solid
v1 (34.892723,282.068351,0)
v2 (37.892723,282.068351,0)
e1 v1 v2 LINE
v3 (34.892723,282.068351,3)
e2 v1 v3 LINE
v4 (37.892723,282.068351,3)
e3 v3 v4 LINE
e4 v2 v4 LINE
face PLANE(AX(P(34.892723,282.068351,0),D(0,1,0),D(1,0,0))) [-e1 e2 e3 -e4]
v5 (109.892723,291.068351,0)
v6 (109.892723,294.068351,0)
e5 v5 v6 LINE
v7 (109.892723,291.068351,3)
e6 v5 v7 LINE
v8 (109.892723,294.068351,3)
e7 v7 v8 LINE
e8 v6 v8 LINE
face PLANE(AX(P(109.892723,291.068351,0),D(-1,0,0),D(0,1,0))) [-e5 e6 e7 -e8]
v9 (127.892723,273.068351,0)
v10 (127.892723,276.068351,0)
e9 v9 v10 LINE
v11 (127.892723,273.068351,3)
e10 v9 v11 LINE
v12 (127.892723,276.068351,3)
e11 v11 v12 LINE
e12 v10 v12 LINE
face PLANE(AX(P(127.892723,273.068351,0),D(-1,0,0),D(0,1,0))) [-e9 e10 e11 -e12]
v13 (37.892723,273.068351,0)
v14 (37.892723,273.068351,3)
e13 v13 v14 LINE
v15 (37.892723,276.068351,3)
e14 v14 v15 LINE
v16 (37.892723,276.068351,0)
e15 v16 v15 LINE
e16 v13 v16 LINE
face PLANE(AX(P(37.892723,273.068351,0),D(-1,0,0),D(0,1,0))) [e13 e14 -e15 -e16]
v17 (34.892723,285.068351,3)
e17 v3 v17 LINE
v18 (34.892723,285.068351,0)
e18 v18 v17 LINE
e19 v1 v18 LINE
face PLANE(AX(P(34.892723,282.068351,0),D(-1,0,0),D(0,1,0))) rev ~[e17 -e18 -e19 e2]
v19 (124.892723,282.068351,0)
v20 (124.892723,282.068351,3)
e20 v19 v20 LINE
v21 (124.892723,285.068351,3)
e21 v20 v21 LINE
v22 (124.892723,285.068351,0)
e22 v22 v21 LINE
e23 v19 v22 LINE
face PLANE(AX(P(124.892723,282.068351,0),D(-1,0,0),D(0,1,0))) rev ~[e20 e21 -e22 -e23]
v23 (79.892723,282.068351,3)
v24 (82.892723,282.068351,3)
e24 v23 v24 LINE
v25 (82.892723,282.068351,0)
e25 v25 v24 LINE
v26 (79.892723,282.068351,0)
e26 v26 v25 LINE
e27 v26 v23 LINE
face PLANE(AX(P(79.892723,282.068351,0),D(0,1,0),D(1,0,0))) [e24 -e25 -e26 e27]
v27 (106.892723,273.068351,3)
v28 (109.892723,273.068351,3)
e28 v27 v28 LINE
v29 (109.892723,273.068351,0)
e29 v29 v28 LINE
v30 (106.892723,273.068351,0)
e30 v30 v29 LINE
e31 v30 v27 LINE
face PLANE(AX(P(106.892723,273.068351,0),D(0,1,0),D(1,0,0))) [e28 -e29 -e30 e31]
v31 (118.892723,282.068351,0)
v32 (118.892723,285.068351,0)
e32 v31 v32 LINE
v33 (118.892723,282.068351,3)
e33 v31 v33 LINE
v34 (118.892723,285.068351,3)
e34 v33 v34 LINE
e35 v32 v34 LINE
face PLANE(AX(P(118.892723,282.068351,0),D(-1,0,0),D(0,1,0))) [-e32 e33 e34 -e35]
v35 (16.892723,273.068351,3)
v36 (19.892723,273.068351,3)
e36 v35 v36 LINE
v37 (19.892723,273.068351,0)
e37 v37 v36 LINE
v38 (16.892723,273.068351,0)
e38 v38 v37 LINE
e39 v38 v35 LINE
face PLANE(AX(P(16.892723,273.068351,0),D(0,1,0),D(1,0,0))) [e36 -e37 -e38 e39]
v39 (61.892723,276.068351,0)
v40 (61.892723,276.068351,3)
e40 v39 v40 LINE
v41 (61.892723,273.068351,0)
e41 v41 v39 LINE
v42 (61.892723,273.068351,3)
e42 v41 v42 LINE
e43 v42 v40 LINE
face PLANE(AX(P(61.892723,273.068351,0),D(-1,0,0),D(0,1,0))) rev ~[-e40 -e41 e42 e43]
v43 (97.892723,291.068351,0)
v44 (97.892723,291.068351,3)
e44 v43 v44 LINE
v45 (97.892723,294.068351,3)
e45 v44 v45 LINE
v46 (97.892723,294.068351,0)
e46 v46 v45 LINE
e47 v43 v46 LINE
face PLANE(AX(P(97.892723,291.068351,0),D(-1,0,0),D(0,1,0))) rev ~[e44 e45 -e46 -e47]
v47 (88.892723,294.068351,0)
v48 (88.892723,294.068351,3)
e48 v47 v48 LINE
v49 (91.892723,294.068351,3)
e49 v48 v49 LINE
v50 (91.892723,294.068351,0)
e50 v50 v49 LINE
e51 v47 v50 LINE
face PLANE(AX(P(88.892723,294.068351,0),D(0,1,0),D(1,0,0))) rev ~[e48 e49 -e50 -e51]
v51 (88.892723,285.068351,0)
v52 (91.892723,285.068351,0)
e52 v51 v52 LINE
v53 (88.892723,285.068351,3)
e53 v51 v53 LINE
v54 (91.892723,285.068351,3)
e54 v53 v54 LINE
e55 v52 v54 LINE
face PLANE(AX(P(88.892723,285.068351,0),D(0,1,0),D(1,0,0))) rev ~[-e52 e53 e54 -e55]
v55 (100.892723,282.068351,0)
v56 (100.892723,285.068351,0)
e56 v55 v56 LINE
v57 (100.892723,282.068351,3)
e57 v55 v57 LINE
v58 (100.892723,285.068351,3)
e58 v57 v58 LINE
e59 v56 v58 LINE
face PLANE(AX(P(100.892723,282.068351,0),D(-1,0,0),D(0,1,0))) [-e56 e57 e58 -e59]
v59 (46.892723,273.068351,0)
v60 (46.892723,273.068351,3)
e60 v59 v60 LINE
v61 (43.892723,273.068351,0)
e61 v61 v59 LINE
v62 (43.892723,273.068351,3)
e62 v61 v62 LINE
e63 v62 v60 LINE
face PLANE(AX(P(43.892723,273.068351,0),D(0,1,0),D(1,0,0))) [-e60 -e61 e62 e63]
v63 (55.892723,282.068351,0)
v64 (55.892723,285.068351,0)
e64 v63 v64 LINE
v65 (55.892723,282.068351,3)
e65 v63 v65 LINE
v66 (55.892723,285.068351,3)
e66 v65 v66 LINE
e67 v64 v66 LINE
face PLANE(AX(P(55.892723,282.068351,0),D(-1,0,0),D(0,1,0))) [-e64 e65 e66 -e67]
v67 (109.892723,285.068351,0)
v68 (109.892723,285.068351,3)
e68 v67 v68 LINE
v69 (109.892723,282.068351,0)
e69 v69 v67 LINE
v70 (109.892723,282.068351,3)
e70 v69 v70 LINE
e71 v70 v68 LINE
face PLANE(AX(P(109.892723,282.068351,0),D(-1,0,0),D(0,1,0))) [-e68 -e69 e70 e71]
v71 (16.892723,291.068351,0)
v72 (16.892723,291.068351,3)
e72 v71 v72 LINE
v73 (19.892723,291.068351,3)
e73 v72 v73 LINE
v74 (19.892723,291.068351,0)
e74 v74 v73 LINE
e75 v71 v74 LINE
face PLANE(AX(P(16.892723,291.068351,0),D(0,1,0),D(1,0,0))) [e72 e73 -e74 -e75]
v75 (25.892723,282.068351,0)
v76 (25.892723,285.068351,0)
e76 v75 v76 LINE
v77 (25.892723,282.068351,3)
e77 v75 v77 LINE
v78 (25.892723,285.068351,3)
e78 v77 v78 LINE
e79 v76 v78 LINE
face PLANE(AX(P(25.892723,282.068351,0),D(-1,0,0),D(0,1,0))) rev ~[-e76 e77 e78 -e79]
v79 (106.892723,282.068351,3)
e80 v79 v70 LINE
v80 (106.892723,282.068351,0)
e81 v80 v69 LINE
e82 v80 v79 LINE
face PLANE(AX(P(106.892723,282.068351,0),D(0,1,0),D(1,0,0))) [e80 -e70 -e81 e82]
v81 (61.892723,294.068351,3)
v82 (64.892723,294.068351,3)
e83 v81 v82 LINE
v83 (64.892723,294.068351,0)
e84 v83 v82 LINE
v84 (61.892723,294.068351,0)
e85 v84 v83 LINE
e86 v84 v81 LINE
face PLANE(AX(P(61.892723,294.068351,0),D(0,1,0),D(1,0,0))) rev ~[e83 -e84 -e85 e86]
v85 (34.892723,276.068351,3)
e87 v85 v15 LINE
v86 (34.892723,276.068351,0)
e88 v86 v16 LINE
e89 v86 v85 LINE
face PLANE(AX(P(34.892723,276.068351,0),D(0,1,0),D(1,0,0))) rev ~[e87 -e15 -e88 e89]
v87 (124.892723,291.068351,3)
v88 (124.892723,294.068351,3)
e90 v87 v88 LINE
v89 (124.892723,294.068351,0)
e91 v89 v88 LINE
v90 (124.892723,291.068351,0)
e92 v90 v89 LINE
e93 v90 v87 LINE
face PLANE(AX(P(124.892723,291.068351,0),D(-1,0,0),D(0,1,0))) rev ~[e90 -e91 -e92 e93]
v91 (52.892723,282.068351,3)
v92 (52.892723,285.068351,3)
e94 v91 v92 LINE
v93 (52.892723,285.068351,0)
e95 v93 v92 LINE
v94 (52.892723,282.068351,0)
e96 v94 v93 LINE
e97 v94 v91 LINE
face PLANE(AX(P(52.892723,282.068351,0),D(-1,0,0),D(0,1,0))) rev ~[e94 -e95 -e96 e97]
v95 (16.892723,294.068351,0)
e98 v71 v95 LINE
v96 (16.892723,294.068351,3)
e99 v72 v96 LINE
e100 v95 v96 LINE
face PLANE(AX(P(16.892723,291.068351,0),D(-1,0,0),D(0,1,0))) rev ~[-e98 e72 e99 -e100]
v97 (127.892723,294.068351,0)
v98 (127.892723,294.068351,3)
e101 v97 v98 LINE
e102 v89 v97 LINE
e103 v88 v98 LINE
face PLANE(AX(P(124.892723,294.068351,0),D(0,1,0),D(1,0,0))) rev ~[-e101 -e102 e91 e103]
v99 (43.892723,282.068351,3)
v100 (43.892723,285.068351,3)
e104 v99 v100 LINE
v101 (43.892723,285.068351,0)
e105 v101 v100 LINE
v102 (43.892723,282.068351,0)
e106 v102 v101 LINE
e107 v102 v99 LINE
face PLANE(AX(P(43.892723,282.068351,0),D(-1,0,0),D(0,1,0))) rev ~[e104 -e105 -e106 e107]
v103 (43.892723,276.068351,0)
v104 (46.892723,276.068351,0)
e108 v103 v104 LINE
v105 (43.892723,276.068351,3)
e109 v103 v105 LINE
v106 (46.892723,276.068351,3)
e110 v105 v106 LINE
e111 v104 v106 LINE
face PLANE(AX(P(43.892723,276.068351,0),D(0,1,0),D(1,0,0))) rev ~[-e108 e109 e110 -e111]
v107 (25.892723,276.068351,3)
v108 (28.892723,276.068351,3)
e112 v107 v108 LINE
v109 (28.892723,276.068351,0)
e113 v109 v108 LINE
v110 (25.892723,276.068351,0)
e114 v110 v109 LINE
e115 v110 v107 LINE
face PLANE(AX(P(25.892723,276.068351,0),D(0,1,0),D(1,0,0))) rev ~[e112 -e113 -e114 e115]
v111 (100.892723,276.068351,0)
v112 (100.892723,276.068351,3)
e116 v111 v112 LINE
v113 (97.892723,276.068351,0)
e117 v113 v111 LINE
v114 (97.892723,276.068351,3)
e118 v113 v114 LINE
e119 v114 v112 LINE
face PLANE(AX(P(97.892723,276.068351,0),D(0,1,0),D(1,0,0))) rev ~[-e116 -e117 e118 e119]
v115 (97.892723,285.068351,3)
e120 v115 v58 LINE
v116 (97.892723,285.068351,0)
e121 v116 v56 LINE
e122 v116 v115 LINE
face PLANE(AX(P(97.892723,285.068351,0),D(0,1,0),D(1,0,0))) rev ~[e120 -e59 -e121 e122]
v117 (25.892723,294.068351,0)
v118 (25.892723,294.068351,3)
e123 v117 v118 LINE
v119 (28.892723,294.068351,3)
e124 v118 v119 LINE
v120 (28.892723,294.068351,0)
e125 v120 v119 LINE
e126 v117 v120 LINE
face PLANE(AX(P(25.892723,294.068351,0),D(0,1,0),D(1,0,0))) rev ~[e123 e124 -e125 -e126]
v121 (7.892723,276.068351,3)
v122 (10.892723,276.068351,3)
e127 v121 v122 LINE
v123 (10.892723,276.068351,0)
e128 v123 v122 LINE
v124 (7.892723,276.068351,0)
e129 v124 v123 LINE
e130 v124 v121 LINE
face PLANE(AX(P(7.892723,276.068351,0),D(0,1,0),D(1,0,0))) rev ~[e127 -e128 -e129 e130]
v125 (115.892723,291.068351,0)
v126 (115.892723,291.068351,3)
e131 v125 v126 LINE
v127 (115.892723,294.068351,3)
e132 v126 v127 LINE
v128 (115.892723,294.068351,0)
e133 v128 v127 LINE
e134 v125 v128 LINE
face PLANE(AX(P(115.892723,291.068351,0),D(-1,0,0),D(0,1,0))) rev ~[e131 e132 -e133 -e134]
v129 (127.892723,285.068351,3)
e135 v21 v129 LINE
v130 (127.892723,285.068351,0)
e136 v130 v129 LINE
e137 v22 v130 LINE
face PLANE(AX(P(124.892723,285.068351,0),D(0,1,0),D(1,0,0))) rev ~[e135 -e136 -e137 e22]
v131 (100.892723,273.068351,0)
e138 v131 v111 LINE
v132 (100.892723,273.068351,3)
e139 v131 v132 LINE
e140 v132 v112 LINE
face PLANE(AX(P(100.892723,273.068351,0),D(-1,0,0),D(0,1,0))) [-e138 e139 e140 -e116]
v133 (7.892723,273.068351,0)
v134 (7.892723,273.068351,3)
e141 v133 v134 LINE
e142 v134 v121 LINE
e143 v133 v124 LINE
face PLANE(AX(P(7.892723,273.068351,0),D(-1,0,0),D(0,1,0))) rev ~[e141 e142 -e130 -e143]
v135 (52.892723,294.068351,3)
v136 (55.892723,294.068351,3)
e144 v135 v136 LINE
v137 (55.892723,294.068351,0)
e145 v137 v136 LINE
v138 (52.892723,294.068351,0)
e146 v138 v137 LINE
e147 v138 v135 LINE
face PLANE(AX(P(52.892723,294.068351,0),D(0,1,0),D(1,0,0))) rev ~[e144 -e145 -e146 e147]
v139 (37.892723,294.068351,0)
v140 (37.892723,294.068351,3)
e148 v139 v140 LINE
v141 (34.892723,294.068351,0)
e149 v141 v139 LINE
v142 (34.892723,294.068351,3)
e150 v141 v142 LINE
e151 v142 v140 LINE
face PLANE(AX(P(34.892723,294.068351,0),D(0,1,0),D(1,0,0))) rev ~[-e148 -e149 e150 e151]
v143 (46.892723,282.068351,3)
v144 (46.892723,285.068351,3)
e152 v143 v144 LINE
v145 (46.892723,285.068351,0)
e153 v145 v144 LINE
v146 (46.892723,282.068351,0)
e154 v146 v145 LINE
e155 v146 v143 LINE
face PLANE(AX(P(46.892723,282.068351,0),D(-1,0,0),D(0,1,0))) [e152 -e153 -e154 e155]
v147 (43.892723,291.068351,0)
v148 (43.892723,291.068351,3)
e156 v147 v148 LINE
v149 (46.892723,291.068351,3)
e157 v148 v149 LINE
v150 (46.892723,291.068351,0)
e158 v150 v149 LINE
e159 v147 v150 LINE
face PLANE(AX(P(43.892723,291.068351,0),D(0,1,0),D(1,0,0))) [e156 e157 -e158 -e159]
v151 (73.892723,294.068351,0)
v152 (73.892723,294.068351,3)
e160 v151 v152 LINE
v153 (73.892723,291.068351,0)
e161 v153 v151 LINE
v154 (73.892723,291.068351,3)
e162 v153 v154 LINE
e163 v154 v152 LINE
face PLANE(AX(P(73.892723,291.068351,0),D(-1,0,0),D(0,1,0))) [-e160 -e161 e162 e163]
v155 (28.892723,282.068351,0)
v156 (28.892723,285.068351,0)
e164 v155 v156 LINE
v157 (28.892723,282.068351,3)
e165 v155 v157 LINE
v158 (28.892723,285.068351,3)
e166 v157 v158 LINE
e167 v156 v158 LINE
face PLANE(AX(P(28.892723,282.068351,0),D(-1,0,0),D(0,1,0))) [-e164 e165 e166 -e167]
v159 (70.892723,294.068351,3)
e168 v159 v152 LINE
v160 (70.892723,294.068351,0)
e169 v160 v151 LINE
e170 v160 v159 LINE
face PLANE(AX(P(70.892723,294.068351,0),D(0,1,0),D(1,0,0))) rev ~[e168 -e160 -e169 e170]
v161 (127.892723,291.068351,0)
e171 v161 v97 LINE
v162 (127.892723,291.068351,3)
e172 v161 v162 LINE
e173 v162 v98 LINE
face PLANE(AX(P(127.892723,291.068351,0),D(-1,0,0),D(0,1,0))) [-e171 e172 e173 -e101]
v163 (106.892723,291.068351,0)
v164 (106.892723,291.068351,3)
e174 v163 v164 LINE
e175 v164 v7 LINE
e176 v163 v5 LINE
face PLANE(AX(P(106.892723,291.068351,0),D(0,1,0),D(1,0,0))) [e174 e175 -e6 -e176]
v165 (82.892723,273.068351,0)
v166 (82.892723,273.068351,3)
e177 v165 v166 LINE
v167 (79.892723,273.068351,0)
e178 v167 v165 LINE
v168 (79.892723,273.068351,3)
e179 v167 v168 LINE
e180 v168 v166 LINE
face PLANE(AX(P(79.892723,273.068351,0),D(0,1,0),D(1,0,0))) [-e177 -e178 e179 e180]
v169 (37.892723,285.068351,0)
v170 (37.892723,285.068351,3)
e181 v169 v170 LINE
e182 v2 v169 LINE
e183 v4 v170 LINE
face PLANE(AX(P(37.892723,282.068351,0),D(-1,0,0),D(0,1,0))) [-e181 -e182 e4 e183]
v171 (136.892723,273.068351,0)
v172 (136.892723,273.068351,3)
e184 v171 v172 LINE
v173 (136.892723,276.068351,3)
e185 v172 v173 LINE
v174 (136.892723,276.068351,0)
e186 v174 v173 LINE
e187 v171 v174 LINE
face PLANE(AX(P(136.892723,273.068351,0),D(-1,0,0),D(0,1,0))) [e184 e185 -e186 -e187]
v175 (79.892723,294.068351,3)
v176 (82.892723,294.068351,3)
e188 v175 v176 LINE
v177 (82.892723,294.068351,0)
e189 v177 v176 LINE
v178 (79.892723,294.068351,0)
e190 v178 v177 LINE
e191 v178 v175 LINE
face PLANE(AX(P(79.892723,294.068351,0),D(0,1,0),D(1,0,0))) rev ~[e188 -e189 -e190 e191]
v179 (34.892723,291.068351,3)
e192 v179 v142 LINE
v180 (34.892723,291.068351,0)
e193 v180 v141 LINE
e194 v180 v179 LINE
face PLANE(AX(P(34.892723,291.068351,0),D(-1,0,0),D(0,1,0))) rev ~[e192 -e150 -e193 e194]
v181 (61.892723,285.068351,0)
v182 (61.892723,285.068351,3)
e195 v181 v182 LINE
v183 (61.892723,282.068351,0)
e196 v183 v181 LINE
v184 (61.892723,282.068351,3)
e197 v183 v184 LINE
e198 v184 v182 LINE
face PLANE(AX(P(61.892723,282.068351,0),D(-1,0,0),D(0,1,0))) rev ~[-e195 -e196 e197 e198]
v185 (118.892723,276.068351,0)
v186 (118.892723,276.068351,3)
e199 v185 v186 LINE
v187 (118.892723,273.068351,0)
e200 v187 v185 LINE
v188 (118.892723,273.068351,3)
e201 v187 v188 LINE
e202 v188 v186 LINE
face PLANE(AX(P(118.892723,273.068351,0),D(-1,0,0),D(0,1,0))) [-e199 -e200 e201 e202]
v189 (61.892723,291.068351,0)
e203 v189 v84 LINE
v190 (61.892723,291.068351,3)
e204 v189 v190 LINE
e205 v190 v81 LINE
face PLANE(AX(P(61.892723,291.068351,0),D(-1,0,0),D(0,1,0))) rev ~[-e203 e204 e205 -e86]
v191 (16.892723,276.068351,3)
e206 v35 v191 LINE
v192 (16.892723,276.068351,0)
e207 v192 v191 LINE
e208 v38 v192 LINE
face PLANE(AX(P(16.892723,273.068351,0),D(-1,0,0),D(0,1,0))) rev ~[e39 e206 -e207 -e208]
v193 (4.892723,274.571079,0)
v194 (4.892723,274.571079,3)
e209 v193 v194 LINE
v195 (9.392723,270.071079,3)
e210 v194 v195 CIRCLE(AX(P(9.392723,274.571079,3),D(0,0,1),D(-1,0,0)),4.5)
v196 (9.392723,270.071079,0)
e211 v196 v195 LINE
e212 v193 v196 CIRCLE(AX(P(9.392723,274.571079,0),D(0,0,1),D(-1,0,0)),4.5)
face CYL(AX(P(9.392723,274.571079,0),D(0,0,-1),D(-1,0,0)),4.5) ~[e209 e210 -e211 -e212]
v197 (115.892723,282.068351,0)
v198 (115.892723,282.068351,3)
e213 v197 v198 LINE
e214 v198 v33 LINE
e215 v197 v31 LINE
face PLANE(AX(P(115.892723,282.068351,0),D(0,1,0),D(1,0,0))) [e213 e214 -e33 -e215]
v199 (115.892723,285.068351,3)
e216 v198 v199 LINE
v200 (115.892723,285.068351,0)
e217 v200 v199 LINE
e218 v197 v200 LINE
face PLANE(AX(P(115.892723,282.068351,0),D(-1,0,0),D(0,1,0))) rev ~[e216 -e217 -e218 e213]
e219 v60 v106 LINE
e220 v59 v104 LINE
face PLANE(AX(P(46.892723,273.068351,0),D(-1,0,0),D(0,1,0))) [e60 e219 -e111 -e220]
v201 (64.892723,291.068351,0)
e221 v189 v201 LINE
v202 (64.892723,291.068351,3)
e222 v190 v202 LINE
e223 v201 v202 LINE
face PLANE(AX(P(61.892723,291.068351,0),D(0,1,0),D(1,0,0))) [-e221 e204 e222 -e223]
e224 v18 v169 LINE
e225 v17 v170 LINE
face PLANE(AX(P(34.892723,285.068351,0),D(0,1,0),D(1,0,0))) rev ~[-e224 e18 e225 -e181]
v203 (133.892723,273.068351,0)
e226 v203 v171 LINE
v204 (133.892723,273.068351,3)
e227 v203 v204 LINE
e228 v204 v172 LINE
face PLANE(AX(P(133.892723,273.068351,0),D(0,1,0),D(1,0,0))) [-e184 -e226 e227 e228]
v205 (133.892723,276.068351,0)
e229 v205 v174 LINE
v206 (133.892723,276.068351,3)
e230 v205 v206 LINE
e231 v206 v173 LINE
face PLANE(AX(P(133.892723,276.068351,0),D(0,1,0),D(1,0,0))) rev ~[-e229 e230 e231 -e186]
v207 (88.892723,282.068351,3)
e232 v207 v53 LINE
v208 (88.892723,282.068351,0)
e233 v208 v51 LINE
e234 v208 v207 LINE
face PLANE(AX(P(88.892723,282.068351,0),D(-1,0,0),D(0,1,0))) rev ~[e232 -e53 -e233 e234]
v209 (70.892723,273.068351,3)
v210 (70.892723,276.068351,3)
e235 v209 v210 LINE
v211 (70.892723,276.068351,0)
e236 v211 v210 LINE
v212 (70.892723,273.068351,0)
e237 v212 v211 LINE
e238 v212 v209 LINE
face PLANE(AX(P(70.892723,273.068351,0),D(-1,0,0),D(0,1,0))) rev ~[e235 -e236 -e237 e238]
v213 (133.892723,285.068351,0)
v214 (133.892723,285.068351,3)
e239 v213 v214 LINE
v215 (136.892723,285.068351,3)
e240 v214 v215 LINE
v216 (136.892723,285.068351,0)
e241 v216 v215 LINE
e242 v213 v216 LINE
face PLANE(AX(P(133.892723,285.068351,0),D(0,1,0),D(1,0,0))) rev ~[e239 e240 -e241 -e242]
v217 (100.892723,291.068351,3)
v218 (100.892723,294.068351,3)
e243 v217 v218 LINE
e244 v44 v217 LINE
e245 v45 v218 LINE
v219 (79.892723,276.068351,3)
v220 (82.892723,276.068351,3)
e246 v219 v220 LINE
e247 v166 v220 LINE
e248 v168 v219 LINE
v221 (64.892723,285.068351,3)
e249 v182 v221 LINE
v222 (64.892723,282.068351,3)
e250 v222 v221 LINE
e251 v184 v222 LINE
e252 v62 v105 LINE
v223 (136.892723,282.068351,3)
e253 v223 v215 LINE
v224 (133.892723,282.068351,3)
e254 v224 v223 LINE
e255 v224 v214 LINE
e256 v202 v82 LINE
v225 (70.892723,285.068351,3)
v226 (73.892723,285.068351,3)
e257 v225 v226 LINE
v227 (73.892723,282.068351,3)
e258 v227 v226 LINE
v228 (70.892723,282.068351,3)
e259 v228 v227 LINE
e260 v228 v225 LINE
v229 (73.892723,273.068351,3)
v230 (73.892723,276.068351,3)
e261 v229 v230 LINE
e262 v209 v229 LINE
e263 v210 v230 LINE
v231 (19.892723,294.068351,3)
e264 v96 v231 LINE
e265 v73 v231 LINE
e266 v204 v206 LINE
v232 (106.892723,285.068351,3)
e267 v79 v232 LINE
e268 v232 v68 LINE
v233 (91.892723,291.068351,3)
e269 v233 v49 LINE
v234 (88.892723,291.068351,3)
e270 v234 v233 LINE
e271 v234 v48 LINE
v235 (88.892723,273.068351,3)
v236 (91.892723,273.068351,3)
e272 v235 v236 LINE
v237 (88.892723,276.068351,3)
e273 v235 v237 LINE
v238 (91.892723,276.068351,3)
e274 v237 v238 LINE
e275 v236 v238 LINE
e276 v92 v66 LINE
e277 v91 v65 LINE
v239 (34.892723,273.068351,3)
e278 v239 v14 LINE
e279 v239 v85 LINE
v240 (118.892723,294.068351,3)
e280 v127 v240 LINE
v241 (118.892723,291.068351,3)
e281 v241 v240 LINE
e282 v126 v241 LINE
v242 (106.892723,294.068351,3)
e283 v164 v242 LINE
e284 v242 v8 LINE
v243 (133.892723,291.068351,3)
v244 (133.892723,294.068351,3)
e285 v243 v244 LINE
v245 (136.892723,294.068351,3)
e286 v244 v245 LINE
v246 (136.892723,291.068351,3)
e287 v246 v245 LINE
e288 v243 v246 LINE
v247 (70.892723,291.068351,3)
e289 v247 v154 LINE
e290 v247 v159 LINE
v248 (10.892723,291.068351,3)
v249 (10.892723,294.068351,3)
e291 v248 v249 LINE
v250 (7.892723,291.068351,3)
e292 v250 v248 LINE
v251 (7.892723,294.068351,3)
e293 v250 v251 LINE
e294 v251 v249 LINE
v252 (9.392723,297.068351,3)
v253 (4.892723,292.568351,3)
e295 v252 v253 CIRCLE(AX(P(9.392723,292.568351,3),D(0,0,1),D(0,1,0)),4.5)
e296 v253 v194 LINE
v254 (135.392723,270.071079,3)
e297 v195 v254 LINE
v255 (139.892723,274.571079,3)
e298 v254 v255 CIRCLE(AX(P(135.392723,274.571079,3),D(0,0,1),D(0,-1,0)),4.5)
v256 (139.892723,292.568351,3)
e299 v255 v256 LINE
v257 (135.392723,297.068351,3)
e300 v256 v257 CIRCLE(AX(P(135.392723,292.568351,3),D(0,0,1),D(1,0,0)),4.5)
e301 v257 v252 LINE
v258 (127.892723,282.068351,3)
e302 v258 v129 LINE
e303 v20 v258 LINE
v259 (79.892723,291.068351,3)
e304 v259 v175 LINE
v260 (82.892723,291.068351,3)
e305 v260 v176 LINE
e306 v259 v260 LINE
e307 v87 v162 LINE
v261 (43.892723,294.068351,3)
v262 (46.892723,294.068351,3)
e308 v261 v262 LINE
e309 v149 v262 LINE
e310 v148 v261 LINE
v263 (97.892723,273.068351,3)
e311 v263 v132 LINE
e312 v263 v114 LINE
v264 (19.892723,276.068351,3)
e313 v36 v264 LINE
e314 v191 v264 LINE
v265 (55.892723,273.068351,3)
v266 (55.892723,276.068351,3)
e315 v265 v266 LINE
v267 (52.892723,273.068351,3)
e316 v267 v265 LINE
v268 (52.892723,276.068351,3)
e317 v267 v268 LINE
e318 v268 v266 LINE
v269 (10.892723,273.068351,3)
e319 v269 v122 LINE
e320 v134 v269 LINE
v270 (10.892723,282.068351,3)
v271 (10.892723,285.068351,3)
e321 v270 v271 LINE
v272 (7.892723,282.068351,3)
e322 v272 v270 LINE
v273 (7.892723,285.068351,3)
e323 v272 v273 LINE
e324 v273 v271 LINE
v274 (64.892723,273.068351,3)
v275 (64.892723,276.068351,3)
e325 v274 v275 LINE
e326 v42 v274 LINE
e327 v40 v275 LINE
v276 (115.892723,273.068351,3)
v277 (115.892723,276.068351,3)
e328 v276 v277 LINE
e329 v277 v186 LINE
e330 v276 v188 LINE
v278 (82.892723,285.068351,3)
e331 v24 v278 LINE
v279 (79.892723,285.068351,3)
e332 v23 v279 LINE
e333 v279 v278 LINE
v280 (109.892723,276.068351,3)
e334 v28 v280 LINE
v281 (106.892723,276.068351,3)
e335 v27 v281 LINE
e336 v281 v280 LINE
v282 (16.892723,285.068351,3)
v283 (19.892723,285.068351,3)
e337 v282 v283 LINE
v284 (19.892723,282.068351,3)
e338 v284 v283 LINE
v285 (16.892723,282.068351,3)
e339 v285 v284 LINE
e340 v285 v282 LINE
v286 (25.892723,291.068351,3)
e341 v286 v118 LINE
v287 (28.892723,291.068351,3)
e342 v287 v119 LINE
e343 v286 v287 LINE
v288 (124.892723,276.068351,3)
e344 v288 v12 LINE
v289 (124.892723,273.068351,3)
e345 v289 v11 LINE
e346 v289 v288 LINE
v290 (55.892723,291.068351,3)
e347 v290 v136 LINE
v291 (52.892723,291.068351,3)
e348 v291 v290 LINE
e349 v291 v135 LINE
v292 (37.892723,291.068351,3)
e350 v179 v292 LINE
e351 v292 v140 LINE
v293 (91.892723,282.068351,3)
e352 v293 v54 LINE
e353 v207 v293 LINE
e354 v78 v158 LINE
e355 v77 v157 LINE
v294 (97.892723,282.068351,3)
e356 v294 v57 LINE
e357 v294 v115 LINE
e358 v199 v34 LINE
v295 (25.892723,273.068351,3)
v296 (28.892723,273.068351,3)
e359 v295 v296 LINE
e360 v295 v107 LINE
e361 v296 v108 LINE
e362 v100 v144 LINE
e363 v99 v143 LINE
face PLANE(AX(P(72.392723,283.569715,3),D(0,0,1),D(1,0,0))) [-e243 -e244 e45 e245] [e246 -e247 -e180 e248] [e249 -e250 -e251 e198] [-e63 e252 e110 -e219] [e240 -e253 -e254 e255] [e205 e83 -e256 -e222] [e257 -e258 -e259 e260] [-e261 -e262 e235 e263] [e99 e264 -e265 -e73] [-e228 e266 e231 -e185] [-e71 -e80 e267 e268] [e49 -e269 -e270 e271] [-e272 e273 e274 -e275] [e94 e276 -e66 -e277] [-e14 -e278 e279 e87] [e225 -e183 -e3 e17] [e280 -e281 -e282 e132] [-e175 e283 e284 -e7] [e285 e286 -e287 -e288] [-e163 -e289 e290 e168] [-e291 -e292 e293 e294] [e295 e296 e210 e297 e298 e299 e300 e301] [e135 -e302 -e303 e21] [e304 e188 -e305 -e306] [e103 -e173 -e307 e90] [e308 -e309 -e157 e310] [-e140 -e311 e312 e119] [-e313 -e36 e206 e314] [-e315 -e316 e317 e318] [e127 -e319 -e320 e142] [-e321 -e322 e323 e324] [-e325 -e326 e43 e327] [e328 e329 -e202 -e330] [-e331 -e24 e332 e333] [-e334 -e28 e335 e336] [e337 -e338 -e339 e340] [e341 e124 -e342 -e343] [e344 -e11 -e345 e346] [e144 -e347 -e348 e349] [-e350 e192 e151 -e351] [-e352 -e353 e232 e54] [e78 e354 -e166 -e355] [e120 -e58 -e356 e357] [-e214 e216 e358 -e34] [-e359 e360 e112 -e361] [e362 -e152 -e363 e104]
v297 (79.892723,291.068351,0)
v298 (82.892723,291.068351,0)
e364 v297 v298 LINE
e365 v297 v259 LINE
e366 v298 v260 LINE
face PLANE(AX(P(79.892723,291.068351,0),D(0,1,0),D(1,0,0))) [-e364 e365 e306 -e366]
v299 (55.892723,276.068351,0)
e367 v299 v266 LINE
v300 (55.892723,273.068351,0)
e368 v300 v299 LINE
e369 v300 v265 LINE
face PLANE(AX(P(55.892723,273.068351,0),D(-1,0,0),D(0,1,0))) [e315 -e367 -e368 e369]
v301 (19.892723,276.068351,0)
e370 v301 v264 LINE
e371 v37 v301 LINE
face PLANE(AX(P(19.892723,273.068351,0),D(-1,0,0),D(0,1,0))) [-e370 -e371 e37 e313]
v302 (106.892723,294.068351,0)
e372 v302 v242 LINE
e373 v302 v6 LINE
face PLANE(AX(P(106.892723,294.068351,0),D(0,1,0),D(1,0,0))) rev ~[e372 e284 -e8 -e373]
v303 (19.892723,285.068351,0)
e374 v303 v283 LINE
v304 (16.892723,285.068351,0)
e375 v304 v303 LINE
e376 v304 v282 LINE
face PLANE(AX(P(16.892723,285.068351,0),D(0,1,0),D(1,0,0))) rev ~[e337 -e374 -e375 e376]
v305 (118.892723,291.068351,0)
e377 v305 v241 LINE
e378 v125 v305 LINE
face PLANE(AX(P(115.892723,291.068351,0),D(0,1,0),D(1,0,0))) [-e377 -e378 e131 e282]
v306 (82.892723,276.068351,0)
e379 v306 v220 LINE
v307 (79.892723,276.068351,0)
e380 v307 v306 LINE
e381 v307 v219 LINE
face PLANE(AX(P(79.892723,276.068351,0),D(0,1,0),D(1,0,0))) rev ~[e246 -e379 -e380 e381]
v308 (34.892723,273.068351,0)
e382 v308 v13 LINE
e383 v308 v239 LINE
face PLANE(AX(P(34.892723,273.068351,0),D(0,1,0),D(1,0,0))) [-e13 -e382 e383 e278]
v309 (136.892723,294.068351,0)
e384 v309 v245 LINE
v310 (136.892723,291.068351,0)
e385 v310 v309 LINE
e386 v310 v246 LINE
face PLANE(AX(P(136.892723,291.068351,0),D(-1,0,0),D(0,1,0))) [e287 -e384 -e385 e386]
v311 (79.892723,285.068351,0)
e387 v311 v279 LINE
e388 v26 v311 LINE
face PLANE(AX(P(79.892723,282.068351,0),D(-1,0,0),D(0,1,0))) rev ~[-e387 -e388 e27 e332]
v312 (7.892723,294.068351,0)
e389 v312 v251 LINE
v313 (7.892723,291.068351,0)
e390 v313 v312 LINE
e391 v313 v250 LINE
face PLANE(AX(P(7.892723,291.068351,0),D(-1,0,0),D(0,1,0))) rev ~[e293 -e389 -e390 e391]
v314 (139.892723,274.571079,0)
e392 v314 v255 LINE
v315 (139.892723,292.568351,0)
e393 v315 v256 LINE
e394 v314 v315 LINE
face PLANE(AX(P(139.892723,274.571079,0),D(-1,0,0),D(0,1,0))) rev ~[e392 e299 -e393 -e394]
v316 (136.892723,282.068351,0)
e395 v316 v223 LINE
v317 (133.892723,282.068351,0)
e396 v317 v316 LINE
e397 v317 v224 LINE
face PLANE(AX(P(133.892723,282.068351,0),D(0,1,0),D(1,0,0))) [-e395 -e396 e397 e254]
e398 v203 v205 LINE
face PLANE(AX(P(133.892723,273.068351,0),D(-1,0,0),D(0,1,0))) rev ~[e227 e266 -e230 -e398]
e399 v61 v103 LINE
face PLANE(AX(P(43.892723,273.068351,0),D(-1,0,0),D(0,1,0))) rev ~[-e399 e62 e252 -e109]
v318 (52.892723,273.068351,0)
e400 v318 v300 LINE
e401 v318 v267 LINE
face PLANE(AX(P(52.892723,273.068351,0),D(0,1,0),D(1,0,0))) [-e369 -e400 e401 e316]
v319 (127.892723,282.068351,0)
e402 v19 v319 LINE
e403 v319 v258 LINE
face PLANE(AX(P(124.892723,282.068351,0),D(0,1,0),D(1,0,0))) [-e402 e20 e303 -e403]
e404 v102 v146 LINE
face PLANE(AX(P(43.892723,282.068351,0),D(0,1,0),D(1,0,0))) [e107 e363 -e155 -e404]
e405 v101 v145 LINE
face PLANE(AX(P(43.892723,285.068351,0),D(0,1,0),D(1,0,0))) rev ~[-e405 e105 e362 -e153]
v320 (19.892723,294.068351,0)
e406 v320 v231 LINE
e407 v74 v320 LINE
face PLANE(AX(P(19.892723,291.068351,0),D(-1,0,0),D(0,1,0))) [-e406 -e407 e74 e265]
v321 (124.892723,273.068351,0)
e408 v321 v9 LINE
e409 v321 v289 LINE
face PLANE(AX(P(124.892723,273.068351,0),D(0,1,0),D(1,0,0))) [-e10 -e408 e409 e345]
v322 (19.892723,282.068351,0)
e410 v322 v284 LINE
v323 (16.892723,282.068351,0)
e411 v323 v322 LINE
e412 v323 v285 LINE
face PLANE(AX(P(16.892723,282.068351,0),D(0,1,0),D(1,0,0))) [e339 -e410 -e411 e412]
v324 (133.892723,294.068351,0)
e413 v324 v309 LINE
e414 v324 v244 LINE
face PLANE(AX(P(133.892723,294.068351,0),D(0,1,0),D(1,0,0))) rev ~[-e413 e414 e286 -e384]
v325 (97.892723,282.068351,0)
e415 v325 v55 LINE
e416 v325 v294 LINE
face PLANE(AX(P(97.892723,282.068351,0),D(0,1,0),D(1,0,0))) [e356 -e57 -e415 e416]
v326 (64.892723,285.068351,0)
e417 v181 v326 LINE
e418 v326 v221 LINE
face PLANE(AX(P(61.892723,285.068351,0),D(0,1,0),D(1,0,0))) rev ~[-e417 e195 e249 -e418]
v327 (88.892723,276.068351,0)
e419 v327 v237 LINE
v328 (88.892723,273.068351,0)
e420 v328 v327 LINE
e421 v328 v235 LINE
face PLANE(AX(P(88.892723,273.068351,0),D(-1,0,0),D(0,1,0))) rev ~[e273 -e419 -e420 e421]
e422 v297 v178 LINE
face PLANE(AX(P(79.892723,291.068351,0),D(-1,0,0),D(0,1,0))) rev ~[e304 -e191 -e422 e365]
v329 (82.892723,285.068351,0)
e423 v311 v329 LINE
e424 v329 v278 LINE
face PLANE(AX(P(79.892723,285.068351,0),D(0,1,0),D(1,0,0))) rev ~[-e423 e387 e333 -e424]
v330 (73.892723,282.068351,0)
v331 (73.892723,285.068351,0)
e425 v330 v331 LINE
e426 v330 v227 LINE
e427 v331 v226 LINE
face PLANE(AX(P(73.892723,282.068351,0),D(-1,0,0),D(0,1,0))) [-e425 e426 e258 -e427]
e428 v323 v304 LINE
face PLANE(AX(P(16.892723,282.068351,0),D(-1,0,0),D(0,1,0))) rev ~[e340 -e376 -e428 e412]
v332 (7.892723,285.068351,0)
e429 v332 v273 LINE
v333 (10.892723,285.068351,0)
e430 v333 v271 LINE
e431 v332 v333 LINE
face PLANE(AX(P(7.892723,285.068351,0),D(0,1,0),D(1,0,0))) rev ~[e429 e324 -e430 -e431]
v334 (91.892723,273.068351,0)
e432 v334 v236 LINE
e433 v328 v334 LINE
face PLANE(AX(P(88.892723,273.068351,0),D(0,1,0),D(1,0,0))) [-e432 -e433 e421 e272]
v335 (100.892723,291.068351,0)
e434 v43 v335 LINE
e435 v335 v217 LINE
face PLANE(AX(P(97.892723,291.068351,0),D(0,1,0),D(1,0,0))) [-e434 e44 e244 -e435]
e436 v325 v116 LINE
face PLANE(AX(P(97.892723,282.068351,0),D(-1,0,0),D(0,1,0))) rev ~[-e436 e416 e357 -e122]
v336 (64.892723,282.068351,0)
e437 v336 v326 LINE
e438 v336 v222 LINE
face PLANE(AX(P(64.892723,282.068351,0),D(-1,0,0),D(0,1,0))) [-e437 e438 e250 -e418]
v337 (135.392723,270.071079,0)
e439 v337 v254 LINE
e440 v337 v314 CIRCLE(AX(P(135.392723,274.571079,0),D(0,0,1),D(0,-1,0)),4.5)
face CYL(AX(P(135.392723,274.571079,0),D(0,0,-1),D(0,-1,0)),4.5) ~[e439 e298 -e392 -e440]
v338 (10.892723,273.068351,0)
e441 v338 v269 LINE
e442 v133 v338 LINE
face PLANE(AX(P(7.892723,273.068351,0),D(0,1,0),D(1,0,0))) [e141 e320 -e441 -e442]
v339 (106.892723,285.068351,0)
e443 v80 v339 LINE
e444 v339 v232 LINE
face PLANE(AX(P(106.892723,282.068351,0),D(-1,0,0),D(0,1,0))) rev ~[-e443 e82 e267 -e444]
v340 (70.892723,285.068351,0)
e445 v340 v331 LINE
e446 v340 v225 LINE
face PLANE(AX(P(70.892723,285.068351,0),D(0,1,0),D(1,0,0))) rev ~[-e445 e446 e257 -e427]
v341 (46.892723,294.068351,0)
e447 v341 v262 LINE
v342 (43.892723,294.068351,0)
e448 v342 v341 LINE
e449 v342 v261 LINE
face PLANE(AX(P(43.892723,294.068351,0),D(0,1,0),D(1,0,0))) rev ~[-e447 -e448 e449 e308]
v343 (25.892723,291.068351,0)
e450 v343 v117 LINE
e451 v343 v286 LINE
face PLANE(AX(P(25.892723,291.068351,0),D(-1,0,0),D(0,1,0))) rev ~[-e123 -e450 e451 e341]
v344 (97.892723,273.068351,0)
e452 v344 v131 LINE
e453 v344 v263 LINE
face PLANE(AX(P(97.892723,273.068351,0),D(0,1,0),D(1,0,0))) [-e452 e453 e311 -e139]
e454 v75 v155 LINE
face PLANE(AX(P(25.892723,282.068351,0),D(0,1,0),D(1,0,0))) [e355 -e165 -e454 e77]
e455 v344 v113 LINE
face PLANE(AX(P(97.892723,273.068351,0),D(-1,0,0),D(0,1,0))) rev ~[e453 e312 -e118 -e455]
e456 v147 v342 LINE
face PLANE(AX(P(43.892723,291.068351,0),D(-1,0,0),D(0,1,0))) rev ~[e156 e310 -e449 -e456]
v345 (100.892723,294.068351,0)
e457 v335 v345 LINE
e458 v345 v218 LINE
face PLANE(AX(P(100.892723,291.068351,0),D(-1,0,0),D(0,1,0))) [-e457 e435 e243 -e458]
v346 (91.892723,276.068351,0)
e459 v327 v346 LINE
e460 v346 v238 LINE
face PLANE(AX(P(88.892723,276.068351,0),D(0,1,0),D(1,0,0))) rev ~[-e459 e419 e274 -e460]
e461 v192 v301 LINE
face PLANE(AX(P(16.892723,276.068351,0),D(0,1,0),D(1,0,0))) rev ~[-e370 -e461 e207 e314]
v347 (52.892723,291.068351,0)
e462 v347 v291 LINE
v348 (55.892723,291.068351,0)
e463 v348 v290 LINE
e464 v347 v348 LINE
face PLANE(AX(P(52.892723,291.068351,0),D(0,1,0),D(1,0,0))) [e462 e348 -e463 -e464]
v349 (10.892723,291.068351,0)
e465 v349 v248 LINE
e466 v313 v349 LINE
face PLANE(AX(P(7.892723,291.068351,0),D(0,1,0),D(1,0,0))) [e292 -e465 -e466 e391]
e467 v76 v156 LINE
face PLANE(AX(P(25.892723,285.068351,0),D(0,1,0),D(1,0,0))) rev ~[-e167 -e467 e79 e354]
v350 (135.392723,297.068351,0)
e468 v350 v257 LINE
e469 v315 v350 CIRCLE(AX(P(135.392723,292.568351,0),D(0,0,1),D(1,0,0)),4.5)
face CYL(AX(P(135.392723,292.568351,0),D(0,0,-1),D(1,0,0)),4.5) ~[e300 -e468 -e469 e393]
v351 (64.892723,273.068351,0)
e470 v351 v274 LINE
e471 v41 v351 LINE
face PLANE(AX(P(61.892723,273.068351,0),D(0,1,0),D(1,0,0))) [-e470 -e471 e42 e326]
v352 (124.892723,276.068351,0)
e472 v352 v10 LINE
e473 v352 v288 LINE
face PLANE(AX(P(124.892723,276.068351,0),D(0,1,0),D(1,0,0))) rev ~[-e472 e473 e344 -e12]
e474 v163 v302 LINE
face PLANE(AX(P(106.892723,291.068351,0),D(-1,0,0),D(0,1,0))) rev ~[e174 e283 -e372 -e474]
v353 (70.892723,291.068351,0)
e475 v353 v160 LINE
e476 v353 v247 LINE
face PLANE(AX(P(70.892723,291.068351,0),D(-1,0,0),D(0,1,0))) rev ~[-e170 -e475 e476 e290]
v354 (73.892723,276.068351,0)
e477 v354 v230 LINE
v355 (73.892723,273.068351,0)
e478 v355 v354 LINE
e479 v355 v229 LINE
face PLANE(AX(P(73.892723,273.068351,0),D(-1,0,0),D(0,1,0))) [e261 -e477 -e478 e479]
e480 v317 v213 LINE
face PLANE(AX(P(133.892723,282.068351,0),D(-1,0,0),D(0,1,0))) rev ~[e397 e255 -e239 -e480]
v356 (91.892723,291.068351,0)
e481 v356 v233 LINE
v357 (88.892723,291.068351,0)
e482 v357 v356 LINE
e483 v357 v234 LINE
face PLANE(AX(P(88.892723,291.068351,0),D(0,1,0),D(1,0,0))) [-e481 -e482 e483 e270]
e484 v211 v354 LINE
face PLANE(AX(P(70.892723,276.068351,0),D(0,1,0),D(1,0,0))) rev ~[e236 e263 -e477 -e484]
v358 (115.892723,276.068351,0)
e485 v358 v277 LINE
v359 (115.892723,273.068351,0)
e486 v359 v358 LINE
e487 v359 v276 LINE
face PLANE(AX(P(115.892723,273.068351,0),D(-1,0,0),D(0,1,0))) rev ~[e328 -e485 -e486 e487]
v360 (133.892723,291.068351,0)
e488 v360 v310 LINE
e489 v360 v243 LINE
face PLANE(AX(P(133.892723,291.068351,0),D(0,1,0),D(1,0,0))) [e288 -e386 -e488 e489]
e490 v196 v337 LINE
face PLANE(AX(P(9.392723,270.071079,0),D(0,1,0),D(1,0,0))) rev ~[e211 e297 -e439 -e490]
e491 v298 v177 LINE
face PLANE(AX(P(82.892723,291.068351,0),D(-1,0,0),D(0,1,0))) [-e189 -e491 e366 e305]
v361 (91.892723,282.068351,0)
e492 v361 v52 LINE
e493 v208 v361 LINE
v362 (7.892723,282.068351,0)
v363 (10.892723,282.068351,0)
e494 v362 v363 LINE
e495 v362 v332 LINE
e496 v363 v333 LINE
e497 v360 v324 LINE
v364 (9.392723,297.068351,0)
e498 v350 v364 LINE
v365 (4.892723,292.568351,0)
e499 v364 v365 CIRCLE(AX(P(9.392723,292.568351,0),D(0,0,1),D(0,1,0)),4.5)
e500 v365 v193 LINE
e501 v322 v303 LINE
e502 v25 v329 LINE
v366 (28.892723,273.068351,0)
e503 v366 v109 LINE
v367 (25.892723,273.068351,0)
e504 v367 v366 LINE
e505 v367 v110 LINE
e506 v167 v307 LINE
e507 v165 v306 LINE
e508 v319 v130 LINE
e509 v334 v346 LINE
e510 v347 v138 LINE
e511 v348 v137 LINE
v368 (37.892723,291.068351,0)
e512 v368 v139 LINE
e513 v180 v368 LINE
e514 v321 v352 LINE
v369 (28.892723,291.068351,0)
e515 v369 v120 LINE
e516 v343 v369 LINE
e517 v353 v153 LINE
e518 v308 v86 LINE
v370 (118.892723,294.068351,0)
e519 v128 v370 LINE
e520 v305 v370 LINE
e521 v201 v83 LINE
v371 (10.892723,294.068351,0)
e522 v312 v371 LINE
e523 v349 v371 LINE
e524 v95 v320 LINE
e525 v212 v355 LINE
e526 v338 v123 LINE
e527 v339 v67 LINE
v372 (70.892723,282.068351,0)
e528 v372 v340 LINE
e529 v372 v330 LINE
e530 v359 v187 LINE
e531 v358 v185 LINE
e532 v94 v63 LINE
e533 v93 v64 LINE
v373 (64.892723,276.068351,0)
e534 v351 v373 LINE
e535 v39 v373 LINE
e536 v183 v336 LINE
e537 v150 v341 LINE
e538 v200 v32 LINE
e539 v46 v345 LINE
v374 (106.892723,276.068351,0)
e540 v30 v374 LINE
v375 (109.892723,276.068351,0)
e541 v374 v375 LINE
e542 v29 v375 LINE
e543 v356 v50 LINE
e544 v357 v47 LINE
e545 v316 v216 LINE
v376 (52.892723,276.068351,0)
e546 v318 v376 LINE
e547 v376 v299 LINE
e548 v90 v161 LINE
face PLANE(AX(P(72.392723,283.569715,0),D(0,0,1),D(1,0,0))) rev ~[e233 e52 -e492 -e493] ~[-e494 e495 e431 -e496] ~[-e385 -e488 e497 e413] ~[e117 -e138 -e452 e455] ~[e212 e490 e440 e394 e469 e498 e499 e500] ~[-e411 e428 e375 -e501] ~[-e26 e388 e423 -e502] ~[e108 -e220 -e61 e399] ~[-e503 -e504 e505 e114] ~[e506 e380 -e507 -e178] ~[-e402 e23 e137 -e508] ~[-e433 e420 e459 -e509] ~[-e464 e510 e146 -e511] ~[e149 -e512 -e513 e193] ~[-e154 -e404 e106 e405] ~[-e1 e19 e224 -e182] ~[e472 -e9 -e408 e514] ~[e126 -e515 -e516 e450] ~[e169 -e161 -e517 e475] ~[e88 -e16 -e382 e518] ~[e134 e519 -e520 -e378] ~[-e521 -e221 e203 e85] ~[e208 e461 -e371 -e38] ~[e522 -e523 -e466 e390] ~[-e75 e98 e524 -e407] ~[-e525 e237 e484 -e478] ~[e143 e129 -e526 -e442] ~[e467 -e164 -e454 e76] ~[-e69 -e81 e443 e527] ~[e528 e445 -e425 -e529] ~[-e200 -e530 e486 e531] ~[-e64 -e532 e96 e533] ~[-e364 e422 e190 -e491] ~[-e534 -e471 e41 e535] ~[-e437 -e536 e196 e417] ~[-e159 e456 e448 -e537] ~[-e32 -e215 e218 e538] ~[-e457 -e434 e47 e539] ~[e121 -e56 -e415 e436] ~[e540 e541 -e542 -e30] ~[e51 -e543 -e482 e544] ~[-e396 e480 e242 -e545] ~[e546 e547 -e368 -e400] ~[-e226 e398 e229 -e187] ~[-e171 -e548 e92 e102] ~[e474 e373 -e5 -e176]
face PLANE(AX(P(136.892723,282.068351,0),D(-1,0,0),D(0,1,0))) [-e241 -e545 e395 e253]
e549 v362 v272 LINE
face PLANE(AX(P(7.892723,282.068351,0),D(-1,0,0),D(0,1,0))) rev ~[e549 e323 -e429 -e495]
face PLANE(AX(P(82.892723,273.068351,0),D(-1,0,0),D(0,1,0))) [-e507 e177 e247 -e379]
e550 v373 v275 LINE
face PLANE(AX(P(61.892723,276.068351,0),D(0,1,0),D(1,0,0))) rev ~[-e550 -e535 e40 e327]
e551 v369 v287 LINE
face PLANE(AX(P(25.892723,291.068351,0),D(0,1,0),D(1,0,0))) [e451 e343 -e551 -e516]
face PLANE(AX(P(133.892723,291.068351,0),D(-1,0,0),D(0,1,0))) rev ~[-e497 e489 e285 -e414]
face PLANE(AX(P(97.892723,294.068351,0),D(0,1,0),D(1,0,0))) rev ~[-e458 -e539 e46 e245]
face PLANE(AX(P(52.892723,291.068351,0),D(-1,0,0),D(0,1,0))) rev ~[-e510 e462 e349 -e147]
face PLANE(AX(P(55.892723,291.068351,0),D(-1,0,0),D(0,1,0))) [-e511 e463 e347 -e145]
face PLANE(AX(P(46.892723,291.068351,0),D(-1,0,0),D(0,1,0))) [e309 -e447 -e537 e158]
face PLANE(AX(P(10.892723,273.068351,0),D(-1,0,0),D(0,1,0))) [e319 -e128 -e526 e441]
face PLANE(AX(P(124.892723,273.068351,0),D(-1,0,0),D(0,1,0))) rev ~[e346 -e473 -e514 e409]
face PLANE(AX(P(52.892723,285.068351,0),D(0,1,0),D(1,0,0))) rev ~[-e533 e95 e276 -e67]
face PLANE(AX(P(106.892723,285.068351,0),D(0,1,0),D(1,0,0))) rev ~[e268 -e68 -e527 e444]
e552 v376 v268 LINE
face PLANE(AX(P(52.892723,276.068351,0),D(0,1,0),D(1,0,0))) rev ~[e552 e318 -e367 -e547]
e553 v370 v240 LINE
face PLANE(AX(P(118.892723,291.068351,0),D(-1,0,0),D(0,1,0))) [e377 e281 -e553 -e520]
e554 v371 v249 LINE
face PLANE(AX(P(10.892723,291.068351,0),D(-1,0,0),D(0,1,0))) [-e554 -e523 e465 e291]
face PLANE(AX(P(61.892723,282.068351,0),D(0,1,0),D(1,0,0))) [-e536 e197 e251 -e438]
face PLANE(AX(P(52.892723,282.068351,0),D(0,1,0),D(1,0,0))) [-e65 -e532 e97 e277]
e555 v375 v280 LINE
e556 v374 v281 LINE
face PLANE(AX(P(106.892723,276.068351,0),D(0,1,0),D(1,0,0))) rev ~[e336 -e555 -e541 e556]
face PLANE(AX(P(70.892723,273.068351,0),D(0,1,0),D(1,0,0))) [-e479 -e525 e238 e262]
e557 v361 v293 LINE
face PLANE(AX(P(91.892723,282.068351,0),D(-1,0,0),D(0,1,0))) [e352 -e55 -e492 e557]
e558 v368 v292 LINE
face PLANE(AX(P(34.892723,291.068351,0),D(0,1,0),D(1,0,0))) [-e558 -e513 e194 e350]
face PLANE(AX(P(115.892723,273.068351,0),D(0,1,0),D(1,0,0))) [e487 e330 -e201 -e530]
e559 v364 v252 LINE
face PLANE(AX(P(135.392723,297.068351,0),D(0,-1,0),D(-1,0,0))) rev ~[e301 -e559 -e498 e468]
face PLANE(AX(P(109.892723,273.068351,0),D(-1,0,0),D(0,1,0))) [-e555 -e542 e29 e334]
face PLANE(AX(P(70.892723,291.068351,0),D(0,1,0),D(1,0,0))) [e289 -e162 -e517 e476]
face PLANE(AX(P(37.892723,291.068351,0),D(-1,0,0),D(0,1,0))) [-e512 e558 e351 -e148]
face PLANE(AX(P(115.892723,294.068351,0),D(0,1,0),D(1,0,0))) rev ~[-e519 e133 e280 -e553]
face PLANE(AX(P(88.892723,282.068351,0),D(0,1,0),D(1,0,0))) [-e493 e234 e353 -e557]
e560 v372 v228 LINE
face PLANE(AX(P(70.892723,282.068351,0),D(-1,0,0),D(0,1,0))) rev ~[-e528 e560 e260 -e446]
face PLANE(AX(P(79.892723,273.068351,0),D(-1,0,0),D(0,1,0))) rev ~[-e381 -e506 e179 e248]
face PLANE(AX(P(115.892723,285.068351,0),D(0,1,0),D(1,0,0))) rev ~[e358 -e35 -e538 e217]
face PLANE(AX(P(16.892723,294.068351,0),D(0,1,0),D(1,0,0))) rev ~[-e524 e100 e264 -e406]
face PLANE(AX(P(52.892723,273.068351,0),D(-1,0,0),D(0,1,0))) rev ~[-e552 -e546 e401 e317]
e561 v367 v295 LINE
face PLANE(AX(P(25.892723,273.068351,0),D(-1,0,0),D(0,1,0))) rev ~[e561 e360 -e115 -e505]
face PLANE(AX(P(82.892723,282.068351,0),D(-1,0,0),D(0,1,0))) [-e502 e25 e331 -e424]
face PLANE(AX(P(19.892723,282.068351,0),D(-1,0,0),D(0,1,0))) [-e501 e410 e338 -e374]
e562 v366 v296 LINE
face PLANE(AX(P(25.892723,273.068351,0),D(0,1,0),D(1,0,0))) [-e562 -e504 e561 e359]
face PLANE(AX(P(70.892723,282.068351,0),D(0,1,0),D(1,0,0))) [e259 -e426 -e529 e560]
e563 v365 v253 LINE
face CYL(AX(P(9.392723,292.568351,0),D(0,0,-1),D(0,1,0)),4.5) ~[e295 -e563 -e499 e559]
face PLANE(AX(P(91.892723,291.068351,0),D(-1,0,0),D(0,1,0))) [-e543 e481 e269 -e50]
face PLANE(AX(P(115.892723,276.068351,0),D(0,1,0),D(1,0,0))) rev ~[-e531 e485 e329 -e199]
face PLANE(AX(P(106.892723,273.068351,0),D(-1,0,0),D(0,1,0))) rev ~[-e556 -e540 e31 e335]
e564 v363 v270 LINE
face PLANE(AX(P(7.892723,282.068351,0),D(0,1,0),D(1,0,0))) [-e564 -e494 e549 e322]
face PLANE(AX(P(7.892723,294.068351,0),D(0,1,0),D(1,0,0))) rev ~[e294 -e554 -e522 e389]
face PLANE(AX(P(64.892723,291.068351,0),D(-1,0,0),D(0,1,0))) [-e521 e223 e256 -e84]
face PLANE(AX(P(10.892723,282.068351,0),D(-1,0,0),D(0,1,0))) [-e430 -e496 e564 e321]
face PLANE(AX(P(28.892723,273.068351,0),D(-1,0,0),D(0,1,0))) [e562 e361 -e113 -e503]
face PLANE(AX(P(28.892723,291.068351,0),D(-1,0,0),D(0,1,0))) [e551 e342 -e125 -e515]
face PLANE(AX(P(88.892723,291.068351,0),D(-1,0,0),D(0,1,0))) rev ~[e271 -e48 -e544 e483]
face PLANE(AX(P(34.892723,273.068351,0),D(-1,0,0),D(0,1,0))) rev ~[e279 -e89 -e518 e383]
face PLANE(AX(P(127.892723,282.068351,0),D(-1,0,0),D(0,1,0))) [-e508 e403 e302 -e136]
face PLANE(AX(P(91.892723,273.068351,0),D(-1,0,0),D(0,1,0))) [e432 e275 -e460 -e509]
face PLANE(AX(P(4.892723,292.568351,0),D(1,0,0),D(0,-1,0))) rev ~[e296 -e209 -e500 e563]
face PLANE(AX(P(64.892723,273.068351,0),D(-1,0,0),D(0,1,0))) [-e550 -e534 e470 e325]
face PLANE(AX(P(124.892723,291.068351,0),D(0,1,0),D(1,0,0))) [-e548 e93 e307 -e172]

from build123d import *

# Parameters (mm, degrees)
MODEL_W                 = 3
MODEL_H                 = 3
SALIENTE_EXTRUIR1_DEPTH = 3


with BuildPart() as part:
    # Model → Saliente-Extruir1 (new body)
    with BuildSketch(Plane.XY):
        with BuildLine():
            Line((139.892723231, 274.571078663), (139.892723231, 292.568350817))
            ThreePointArc((139.892723231, 292.568350817), (138.574703747, 295.750331332), (135.392723231, 297.068350817))
            Line((135.392723231, 297.068350817), (9.392723231, 297.068350817))
            ThreePointArc((9.392723231, 297.068350817), (6.210742716, 295.750331332), (4.892723231, 292.568350817))
            Line((4.892723231, 292.568350817), (4.892723231, 274.571078663))
            ThreePointArc((4.892723231, 274.571078663), (6.210742716, 271.389098148), (9.392723231, 270.071078663))
            Line((9.392723231, 270.071078663), (135.392723231, 270.071078663))
            ThreePointArc((135.392723231, 270.071078663), (138.574703747, 271.389098148), (139.892723231, 274.571078663))
        make_face()
        with Locations((9.392723231, 292.568350816)):
            Rectangle(MODEL_W, MODEL_H, mode=Mode.SUBTRACT)
        with Locations((18.392723231, 292.568350816)):
            Rectangle(MODEL_W, MODEL_H, mode=Mode.SUBTRACT)
        with Locations((27.392723231, 292.568350816)):
            Rectangle(MODEL_W, MODEL_H, mode=Mode.SUBTRACT)
        with Locations((36.392723231, 292.568350816)):
            Rectangle(MODEL_W, MODEL_H, mode=Mode.SUBTRACT)
        with Locations((45.392723231, 292.568350816)):
            Rectangle(MODEL_W, MODEL_H, mode=Mode.SUBTRACT)
        with Locations((54.392723231, 292.568350816)):
            Rectangle(MODEL_W, MODEL_H, mode=Mode.SUBTRACT)
        with Locations((63.392723231, 292.568350816)):
            Rectangle(MODEL_W, MODEL_H, mode=Mode.SUBTRACT)
        with Locations((72.392723231, 292.568350816)):
            Rectangle(MODEL_W, MODEL_H, mode=Mode.SUBTRACT)
        with Locations((81.392723231, 292.568350816)):
            Rectangle(MODEL_W, MODEL_H, mode=Mode.SUBTRACT)
        with Locations((90.392723231, 292.568350816)):
            Rectangle(MODEL_W, MODEL_H, mode=Mode.SUBTRACT)
        with Locations((99.392723231, 292.568350816)):
            Rectangle(MODEL_W, MODEL_H, mode=Mode.SUBTRACT)
        with Locations((108.392723231, 292.568350816)):
            Rectangle(MODEL_W, MODEL_H, mode=Mode.SUBTRACT)
        with Locations((117.392723231, 292.568350816)):
            Rectangle(MODEL_W, MODEL_H, mode=Mode.SUBTRACT)
        with Locations((126.392723231, 292.568350816)):
            Rectangle(MODEL_W, MODEL_H, mode=Mode.SUBTRACT)
        with Locations((135.392723231, 292.568350816)):
            Rectangle(MODEL_W, MODEL_H, mode=Mode.SUBTRACT)
        with Locations((9.392723231, 283.568350816)):
            Rectangle(MODEL_W, MODEL_H, mode=Mode.SUBTRACT)
        with Locations((18.392723231, 283.568350816)):
            Rectangle(MODEL_W, MODEL_H, mode=Mode.SUBTRACT)
        with Locations((27.392723231, 283.568350816)):
            Rectangle(MODEL_W, MODEL_H, mode=Mode.SUBTRACT)
        with Locations((36.392723231, 283.568350816)):
            Rectangle(MODEL_W, MODEL_H, mode=Mode.SUBTRACT)
        with Locations((45.392723231, 283.568350816)):
            Rectangle(MODEL_W, MODEL_H, mode=Mode.SUBTRACT)
        with Locations((54.392723231, 283.568350816)):
            Rectangle(MODEL_W, MODEL_H, mode=Mode.SUBTRACT)
        with Locations((63.392723231, 283.568350816)):
            Rectangle(MODEL_W, MODEL_H, mode=Mode.SUBTRACT)
        with Locations((72.392723231, 283.568350816)):
            Rectangle(MODEL_W, MODEL_H, mode=Mode.SUBTRACT)
        with Locations((81.392723231, 283.568350816)):
            Rectangle(MODEL_W, MODEL_H, mode=Mode.SUBTRACT)
        with Locations((90.392723231, 283.568350816)):
            Rectangle(MODEL_W, MODEL_H, mode=Mode.SUBTRACT)
        with Locations((99.392723231, 283.568350816)):
            Rectangle(MODEL_W, MODEL_H, mode=Mode.SUBTRACT)
        with Locations((108.392723231, 283.568350816)):
            Rectangle(MODEL_W, MODEL_H, mode=Mode.SUBTRACT)
        with Locations((117.392723231, 283.568350816)):
            Rectangle(MODEL_W, MODEL_H, mode=Mode.SUBTRACT)
        with Locations((126.392723231, 283.568350816)):
            Rectangle(MODEL_W, MODEL_H, mode=Mode.SUBTRACT)
        with Locations((135.392723231, 283.568350816)):
            Rectangle(MODEL_W, MODEL_H, mode=Mode.SUBTRACT)
        with Locations((9.392723231, 274.568350816)):
            Rectangle(MODEL_W, MODEL_H, mode=Mode.SUBTRACT)
        with Locations((18.392723231, 274.568350816)):
            Rectangle(MODEL_W, MODEL_H, mode=Mode.SUBTRACT)
        with Locations((27.392723231, 274.568350816)):
            Rectangle(MODEL_W, MODEL_H, mode=Mode.SUBTRACT)
        with Locations((36.392723231, 274.568350816)):
            Rectangle(MODEL_W, MODEL_H, mode=Mode.SUBTRACT)
        with Locations((45.392723231, 274.568350816)):
            Rectangle(MODEL_W, MODEL_H, mode=Mode.SUBTRACT)
        with Locations((54.392723231, 274.568350816)):
            Rectangle(MODEL_W, MODEL_H, mode=Mode.SUBTRACT)
        with Locations((63.392723231, 274.568350816)):
            Rectangle(MODEL_W, MODEL_H, mode=Mode.SUBTRACT)
        with Locations((72.392723231, 274.568350816)):
            Rectangle(MODEL_W, MODEL_H, mode=Mode.SUBTRACT)
        with Locations((81.392723231, 274.568350816)):
            Rectangle(MODEL_W, MODEL_H, mode=Mode.SUBTRACT)
        with Locations((90.392723231, 274.568350816)):
            Rectangle(MODEL_W, MODEL_H, mode=Mode.SUBTRACT)
        with Locations((99.392723231, 274.568350816)):
            Rectangle(MODEL_W, MODEL_H, mode=Mode.SUBTRACT)
        with Locations((108.392723231, 274.568350816)):
            Rectangle(MODEL_W, MODEL_H, mode=Mode.SUBTRACT)
        with Locations((117.392723231, 274.568350816)):
            Rectangle(MODEL_W, MODEL_H, mode=Mode.SUBTRACT)
        with Locations((126.392723231, 274.568350816)):
            Rectangle(MODEL_W, MODEL_H, mode=Mode.SUBTRACT)
        with Locations((135.392723231, 274.568350816)):
            Rectangle(MODEL_W, MODEL_H, mode=Mode.SUBTRACT)
    extrude(amount=SALIENTE_EXTRUIR1_DEPTH)


solid = part.part
